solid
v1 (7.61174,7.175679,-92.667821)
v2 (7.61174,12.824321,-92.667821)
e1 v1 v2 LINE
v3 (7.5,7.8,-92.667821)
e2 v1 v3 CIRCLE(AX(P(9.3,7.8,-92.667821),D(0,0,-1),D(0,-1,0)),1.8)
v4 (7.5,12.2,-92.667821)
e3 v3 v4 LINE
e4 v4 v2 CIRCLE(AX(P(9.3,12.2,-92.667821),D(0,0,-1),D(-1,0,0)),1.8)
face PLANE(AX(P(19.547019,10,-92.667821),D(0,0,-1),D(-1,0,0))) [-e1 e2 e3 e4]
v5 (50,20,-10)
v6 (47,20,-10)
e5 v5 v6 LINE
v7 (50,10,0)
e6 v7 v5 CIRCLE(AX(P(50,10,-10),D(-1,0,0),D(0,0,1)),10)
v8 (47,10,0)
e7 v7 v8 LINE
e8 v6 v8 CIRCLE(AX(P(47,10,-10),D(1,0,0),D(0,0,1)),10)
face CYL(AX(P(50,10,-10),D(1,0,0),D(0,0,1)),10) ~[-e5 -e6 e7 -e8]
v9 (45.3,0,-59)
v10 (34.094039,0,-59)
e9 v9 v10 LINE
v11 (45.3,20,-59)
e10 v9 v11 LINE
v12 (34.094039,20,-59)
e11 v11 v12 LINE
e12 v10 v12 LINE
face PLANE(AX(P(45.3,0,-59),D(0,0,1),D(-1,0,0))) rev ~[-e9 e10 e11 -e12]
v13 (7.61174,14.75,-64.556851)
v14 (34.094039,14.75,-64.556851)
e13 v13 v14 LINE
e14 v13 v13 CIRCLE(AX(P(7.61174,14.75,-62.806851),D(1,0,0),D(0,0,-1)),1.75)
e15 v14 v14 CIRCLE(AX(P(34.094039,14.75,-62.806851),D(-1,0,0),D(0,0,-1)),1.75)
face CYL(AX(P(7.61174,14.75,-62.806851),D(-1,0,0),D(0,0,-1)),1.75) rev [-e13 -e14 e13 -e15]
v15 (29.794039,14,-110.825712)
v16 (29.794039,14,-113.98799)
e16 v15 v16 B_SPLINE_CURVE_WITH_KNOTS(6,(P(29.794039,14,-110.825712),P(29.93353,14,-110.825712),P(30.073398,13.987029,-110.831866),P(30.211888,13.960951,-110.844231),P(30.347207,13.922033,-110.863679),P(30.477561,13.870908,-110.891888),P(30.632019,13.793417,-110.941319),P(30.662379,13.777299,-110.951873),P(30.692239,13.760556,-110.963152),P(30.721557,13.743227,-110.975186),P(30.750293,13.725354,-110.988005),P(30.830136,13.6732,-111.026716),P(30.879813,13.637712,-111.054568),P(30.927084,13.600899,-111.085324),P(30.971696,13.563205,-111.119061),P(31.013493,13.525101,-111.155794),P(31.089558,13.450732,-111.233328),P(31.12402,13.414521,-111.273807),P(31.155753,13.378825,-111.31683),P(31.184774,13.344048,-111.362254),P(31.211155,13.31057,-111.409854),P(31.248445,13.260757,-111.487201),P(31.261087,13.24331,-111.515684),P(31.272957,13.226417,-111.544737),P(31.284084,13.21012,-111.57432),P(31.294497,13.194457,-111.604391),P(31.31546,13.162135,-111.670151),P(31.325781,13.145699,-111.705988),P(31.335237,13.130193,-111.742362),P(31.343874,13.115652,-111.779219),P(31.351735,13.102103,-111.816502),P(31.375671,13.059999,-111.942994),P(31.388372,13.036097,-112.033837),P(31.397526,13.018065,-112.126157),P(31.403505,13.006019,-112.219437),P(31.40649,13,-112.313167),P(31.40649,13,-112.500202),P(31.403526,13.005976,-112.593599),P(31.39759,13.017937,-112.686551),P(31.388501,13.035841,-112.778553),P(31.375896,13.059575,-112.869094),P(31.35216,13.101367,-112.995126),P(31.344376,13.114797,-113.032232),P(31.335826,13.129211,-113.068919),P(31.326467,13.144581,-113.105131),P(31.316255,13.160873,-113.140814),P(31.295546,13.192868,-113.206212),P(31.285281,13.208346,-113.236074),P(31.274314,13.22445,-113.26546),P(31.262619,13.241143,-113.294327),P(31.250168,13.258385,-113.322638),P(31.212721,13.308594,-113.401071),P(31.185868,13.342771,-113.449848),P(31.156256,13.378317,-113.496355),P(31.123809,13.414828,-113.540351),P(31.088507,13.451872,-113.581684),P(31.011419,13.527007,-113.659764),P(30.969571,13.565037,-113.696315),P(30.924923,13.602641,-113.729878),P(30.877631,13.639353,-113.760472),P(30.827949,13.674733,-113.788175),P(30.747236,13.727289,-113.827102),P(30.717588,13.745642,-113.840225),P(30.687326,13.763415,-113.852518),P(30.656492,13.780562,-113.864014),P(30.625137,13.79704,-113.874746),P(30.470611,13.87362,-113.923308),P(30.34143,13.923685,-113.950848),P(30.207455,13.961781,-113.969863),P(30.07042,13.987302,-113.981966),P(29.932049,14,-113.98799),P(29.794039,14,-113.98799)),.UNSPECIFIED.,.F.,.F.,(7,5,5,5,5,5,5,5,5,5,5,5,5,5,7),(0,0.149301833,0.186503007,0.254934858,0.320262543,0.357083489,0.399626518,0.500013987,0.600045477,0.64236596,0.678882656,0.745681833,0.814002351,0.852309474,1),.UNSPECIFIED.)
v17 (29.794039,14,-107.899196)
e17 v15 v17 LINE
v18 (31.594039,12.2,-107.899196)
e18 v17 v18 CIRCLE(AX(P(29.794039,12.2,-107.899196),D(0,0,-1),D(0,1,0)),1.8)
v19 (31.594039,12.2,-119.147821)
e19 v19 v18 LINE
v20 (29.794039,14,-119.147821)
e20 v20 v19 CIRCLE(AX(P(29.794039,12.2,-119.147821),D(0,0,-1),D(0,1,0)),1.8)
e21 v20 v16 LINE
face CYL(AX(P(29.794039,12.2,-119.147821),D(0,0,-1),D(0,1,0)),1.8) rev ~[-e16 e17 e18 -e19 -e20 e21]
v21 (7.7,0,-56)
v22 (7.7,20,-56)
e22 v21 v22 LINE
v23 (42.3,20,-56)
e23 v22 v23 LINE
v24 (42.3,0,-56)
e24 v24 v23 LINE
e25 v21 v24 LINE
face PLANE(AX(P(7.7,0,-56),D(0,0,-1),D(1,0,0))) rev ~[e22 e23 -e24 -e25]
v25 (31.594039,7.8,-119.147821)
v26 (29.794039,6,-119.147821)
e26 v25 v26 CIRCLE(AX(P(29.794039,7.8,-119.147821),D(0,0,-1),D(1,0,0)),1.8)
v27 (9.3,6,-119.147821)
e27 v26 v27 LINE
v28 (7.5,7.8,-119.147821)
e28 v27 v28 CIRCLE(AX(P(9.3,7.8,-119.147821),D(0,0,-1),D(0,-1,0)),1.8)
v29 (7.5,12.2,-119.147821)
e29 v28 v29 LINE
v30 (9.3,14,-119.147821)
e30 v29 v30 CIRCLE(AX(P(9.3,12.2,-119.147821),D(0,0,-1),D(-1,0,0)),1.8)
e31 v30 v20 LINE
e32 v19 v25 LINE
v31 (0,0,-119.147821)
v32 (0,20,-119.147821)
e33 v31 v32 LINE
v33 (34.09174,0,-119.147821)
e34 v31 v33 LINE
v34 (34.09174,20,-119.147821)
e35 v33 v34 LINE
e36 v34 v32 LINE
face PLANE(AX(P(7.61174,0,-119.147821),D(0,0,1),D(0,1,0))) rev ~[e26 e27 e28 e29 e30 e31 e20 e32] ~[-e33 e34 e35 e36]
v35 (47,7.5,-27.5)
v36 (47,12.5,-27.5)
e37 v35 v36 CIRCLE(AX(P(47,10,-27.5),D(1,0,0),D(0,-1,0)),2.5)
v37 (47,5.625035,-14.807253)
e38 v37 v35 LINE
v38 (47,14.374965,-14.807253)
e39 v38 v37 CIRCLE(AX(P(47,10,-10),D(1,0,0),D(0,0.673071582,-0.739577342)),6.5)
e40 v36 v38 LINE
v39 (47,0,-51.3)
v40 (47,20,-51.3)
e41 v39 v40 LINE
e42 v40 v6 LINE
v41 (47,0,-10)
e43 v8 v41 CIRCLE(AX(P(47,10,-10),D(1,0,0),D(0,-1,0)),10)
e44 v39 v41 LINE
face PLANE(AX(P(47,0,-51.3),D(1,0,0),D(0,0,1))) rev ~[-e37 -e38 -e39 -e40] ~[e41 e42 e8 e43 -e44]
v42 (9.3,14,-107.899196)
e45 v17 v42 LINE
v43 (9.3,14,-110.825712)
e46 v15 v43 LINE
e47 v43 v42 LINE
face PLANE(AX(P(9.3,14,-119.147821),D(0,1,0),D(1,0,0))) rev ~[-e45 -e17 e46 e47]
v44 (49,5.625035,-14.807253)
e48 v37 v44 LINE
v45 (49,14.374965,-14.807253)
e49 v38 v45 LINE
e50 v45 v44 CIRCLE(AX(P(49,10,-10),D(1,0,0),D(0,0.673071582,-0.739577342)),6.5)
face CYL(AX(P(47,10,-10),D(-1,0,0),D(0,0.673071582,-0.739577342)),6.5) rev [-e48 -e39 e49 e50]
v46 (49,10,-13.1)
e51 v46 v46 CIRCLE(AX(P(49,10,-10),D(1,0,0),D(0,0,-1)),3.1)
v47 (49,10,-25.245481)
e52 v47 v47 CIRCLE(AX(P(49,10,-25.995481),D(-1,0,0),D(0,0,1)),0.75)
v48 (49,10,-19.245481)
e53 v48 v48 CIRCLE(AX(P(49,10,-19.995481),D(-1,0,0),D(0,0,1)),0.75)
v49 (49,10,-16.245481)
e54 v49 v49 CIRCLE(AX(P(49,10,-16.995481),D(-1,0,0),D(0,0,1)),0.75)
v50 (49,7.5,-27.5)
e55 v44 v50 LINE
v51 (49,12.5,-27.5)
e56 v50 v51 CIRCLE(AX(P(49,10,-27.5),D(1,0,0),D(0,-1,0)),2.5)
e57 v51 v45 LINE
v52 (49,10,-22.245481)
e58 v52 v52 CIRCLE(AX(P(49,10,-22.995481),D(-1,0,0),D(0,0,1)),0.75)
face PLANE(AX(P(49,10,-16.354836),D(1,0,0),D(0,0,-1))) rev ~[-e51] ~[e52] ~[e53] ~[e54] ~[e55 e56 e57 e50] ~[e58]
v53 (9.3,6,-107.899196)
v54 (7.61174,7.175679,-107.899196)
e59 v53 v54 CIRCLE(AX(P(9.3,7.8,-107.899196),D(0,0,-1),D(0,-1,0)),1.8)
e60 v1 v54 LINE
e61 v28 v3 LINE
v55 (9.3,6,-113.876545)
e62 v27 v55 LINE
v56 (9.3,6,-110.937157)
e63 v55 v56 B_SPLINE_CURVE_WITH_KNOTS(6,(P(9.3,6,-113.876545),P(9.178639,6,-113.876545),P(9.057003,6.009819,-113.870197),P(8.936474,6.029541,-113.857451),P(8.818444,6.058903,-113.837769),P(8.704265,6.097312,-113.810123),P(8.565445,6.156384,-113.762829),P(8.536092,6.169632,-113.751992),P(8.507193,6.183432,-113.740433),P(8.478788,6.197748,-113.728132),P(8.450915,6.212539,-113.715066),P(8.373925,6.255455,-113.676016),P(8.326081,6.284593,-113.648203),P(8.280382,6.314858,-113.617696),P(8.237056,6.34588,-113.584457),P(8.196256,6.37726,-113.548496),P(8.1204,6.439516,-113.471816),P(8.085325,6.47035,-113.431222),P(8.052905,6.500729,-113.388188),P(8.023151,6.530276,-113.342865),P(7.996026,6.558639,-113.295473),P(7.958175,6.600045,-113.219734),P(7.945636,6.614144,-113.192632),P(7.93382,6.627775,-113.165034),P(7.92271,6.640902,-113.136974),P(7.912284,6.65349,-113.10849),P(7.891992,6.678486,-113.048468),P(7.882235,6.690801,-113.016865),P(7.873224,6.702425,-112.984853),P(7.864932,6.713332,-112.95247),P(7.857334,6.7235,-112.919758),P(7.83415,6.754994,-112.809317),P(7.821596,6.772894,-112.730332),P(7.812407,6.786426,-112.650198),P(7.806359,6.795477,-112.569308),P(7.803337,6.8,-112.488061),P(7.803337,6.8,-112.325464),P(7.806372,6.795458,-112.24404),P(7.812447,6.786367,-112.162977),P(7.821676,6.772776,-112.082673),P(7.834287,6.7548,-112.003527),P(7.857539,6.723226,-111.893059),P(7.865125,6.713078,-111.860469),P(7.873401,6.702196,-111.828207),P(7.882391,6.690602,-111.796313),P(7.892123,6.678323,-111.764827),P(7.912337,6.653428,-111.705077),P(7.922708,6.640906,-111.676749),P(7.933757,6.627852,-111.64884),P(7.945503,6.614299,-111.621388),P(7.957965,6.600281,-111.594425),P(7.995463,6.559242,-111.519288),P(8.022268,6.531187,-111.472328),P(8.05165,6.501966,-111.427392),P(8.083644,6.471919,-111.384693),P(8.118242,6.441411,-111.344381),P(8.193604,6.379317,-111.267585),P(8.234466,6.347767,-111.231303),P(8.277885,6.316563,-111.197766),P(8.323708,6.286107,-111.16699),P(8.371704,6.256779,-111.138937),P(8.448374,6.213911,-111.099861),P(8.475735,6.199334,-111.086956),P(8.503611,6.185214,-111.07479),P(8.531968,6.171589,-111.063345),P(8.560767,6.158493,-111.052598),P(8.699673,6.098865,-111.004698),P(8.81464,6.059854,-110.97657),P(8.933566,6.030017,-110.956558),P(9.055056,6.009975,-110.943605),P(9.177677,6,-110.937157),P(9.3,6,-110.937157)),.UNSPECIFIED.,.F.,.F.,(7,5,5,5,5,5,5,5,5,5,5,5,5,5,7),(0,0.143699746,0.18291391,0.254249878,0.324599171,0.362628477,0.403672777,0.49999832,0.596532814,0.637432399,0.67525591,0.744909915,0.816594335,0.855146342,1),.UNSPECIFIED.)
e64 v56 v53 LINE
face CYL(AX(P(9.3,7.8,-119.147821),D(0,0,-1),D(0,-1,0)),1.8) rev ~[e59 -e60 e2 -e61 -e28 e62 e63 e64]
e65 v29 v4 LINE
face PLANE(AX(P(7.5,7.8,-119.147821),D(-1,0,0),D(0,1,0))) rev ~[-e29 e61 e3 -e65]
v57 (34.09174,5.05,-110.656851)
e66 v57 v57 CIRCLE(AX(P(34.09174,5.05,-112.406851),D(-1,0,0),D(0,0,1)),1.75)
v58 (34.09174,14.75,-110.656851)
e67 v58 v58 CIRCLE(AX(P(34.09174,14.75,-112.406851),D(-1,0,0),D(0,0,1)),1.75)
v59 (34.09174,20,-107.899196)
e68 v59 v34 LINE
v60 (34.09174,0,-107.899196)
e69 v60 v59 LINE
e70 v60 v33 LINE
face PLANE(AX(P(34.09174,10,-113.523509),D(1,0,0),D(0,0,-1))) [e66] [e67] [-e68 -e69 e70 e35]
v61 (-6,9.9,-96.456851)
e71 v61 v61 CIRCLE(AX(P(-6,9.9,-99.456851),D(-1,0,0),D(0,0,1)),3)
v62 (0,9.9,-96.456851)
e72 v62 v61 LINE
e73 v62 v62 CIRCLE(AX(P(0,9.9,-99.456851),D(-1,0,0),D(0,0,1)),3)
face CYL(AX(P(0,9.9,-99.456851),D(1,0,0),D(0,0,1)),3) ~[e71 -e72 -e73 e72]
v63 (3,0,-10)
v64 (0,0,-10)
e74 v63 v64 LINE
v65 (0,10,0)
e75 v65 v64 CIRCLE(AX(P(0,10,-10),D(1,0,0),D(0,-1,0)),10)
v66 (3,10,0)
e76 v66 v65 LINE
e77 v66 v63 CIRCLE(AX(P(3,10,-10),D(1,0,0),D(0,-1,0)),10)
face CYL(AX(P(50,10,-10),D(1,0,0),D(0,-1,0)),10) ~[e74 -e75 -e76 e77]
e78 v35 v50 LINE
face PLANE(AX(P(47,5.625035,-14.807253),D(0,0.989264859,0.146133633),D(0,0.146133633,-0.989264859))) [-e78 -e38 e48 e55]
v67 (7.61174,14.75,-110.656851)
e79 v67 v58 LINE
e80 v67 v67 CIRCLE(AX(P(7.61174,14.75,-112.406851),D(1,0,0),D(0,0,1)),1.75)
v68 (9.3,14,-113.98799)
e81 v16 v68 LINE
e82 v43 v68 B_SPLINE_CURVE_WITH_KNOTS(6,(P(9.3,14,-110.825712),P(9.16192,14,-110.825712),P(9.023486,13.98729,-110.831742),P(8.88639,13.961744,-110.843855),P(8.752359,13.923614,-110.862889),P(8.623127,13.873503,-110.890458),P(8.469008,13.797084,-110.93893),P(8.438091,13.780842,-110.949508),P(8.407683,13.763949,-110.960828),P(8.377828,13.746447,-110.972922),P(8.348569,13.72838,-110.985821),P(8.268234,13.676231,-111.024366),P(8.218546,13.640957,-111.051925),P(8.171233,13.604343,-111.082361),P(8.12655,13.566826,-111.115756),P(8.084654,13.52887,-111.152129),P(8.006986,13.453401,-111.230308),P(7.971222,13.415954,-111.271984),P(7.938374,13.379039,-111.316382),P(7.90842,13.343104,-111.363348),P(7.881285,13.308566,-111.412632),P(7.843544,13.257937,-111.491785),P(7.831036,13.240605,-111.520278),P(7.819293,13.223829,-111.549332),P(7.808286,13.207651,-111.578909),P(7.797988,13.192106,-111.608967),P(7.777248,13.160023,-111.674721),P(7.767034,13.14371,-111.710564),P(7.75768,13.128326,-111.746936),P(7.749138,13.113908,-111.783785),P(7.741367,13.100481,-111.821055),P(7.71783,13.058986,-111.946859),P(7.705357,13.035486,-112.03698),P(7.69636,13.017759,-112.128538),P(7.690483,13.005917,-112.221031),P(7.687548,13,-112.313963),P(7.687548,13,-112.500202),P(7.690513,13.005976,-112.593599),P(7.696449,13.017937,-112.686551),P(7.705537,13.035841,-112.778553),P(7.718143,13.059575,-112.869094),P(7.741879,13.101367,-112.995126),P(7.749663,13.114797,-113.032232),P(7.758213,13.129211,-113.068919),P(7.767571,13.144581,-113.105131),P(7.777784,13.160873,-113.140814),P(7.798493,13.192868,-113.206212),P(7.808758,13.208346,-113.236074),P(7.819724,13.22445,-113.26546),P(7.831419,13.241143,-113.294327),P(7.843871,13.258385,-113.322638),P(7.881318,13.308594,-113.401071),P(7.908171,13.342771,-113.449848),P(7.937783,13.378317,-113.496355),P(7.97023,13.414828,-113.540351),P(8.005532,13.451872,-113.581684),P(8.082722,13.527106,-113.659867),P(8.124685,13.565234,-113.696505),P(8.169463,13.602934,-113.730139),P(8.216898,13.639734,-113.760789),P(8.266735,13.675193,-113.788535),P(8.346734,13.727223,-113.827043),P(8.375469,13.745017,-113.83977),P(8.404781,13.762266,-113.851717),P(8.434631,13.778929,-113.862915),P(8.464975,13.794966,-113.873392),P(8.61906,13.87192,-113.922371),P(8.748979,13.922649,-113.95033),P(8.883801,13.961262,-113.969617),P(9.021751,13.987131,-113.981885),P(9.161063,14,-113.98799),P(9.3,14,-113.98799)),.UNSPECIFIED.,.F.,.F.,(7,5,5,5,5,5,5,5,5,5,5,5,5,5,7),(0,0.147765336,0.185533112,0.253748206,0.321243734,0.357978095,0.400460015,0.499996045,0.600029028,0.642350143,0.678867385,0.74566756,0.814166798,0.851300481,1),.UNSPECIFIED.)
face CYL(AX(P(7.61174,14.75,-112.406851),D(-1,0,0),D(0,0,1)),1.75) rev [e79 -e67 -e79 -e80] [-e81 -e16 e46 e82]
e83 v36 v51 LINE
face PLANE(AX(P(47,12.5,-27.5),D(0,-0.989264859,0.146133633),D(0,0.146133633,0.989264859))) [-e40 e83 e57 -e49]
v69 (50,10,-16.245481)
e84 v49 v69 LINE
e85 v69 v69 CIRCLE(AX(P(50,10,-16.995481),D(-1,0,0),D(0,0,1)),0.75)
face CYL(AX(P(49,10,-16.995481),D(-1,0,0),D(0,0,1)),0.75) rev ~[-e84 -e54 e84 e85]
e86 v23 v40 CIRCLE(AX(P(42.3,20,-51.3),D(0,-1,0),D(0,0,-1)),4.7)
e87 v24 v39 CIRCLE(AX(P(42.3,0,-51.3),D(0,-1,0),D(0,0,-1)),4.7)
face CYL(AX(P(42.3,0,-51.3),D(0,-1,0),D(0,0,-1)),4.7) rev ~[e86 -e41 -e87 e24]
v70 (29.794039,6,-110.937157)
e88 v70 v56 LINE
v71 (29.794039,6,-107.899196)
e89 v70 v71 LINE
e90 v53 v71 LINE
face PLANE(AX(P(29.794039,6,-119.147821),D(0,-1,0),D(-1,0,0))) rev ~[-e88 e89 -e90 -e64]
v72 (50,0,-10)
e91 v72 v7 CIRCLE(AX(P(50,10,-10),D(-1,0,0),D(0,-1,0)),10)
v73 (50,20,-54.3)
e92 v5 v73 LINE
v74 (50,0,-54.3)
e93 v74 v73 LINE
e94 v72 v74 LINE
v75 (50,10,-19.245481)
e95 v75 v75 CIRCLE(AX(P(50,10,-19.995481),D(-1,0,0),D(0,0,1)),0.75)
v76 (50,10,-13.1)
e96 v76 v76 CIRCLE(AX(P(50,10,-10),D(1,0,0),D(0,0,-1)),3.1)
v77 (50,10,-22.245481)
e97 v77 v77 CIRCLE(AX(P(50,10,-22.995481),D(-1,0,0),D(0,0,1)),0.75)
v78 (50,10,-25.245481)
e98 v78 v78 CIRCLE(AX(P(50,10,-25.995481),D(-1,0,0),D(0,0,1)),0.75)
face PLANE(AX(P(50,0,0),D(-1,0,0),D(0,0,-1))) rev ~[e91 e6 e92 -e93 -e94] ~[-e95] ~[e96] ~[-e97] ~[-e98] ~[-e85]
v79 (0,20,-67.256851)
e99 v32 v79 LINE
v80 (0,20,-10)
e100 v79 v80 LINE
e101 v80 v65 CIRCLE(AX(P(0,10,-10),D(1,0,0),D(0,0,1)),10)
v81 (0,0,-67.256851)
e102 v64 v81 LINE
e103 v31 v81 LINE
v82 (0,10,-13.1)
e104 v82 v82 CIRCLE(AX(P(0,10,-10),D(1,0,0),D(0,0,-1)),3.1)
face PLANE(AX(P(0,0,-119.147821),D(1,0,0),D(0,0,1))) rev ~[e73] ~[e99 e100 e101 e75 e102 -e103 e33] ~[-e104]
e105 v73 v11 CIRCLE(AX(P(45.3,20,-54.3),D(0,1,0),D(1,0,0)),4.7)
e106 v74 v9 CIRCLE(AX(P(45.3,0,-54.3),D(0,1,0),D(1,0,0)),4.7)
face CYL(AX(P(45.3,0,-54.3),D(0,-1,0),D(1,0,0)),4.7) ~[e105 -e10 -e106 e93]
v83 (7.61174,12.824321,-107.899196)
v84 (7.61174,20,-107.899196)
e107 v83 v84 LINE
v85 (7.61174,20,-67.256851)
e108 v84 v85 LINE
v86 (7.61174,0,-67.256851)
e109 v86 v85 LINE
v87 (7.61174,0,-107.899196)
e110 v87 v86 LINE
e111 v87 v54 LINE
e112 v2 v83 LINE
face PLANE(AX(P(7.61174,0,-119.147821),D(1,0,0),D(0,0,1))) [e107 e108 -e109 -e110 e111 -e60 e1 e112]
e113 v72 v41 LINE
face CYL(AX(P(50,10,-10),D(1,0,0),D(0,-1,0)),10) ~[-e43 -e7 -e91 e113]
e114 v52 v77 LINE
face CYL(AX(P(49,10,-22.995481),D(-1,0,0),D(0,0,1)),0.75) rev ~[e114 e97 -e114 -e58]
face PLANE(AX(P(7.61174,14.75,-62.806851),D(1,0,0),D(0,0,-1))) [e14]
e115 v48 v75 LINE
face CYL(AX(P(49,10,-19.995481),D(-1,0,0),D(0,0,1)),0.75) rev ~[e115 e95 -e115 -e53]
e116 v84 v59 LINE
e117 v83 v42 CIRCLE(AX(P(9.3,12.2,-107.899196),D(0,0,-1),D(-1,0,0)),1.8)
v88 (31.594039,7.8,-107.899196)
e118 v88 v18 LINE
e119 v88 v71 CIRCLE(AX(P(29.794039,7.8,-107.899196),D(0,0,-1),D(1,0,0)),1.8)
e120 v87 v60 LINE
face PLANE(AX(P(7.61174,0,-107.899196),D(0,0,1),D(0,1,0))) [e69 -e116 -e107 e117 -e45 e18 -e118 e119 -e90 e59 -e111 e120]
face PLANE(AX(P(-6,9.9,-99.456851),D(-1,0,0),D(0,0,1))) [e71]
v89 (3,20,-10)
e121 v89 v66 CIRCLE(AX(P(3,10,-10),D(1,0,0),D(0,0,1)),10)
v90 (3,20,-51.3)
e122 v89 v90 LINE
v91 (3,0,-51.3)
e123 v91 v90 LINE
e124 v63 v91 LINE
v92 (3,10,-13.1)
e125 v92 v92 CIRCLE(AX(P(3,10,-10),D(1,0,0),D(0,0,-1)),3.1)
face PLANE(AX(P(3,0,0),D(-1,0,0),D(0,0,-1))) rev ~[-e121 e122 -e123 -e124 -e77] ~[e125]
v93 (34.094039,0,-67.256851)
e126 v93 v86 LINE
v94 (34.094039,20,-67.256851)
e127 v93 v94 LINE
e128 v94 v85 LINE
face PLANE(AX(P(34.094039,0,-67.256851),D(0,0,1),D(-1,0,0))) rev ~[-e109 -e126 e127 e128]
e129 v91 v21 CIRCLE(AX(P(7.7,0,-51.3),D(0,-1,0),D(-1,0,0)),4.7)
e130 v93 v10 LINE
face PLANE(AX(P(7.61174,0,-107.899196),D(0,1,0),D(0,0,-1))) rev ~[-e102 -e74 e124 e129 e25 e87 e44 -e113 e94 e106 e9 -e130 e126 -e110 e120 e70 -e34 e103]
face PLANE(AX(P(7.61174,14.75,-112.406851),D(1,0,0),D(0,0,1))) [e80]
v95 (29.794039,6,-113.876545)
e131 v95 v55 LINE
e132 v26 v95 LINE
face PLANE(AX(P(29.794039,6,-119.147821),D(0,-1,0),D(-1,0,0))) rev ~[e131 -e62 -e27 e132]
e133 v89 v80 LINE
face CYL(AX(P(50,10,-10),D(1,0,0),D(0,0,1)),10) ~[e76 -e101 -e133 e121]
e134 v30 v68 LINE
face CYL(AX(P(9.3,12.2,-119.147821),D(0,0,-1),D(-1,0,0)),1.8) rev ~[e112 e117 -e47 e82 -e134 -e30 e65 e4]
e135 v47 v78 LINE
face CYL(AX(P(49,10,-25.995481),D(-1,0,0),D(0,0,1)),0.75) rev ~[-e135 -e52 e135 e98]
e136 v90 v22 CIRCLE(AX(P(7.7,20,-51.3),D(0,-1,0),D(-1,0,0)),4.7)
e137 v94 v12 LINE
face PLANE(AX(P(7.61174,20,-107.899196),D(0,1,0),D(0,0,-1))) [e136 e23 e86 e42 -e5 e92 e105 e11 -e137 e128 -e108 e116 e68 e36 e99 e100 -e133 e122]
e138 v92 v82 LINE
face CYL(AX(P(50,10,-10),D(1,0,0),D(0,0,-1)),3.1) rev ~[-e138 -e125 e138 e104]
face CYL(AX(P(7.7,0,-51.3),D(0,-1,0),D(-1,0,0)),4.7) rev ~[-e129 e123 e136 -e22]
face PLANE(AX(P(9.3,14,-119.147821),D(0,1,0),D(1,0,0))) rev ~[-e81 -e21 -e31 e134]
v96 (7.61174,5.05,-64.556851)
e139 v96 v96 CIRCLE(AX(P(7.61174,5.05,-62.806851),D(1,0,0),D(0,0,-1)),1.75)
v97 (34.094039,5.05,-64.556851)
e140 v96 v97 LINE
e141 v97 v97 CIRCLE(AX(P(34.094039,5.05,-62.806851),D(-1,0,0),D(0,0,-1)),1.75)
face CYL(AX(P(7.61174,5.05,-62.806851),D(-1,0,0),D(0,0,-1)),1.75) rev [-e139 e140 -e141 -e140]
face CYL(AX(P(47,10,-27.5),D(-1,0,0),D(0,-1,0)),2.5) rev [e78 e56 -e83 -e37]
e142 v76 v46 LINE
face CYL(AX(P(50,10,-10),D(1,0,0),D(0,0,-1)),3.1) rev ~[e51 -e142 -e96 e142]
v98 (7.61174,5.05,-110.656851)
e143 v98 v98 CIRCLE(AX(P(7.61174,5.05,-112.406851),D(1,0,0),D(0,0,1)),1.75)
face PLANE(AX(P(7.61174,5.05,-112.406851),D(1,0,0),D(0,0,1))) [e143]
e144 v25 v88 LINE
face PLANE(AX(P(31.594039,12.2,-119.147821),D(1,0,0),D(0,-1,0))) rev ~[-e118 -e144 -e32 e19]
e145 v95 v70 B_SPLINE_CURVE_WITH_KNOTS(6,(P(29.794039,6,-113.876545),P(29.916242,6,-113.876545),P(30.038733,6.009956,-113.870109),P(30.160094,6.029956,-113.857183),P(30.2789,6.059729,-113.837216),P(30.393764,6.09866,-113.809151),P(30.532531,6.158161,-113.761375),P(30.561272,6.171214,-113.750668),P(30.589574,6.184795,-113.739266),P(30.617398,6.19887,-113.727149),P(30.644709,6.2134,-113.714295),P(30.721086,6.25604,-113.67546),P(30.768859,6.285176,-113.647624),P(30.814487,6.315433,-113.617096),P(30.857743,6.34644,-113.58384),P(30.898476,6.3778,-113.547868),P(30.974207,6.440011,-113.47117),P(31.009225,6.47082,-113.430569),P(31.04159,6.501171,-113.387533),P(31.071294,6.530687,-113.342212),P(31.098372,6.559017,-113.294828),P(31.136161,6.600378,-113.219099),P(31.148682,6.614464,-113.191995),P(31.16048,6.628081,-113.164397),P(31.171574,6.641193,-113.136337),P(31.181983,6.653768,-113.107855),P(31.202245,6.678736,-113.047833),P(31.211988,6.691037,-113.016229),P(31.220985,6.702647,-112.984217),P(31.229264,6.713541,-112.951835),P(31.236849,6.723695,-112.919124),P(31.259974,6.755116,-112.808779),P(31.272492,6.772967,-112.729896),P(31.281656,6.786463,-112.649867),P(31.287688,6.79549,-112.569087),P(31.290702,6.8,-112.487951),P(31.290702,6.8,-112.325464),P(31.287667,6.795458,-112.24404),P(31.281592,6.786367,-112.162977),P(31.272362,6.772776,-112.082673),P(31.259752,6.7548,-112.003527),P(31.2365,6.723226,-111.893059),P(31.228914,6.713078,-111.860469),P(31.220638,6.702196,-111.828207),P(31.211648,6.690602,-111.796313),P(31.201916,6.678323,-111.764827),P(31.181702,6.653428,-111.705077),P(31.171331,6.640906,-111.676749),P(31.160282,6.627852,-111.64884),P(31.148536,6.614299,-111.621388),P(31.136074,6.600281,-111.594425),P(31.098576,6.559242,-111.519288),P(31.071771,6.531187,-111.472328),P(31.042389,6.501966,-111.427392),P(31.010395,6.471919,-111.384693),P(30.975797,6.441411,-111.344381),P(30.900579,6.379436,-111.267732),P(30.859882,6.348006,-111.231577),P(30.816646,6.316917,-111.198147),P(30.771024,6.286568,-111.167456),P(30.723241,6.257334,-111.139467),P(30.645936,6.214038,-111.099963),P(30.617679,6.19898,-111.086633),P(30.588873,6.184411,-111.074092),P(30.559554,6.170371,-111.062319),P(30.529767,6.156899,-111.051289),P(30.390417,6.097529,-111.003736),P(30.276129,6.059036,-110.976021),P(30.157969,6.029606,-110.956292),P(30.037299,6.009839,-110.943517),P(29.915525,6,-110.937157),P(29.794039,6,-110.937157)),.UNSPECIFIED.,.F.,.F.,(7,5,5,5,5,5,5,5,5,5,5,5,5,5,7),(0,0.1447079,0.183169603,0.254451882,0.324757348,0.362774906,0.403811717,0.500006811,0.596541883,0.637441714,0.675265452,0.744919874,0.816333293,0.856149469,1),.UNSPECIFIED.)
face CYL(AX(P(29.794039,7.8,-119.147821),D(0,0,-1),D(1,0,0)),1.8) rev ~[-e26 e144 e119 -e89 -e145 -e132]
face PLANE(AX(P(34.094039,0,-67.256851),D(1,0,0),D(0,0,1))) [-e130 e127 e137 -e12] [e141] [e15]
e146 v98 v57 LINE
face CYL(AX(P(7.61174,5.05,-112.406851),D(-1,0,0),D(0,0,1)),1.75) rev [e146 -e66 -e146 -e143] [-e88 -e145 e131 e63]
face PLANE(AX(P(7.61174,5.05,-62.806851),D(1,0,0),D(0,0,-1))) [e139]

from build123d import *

# Parameters (mm, degrees)
AUFSATZ_LINEAR_AUSTRAGEN1_DEPTH      = 20
SCHNITT_LINEAR_AUSTRAGEN1_DEPTH      = 53.24
SKIZZE3_R                            = 3.1
SCHNITT_LINEAR_AUSTRAGEN2_DEPTH      = 53.24
SCHNITT_LINEAR_AUSTRAGEN3_DEPTH      = 2
SKIZZE5_R                            = 0.75
SCHNITT_LINEAR_AUSTRAGEN4_DEPTH      = 2
AUFSATZ_LINEAR_AUSTRAGEN2_DEPTH      = 20
SKIZZE7_W                            = 7.611739691
SKIZZE7_H                            = 51.890970688
AUFSATZ_LINEAR_AUSTRAGEN3_DEPTH      = 20
SKIZZE8_W                            = 11.248625368
SKIZZE8_H                            = 20
AUFSATZ_LINEAR_AUSTRAGEN4_DEPTH      = 26.48
SCHNITT_LINEAR_AUSTRAGEN5_DEPTH      = 26.48
SCHNITT_LINEAR_AUSTRAGEN6_DEPTH      = 6
SCHNITT_LINEAR_AUSTRAGEN6_DEPTH_BACK = 26.48
SKIZZE10_R                           = 1.75
SKIZZE11_R                           = 3
AUFSATZ_LINEAR_AUSTRAGEN5_DEPTH      = 6


with BuildPart() as part:
    # Skizze1 → Aufsatz-Linear austragen1 (new body)
    with BuildSketch(Plane(origin=(0, 0, 0), x_dir=(1, 0, 0), z_dir=(0, 1, 0))):
        with BuildLine():
            Line((0, 59), (0, 0))
            Line((0, 0), (3, 0))
            Line((3, 0), (3, 51.3))
            ThreePointArc((3, 51.3), (4.376598128, 54.623401872), (7.7, 56))
            Line((7.7, 56), (42.3, 56))
            ThreePointArc((42.3, 56), (45.623401872, 54.623401872), (47, 51.3))
            Line((47, 51.3), (47, 0))
            Line((47, 0), (50, 0))
            Line((50, 0), (50, 54.3))
            ThreePointArc((50, 54.3), (48.623401872, 57.623401872), (45.3, 59))
            Line((45.3, 59), (0, 59))
        make_face()
    extrude(amount=AUFSATZ_LINEAR_AUSTRAGEN1_DEPTH)

    # Skizze2 → Schnitt-Linear austragen1 (cut)
    with BuildSketch(Plane(origin=(50, 0, 0), x_dir=(0, 0, -1), z_dir=(1, 0, 0))):
        with BuildLine():
            ThreePointArc((0, 10), (2.928932188, 17.071067812), (10, 20))
            Line((10, 20), (0, 20))
            Line((0, 20), (0, 10))
        make_face()
        with BuildLine():
            ThreePointArc((10, 0), (2.928932188, 2.928932188), (0, 10))
            Line((0, 10), (0, 0))
            Line((0, 0), (10, 0))
        make_face()
    extrude(amount=-SCHNITT_LINEAR_AUSTRAGEN1_DEPTH, mode=Mode.SUBTRACT)

    # Skizze3 → Schnitt-Linear austragen2 (cut)
    with BuildSketch(Plane(origin=(50, 0, 0), x_dir=(0, 0, -1), z_dir=(1, 0, 0))):
        with Locations((10, 10)):
            Circle(SKIZZE3_R)
    extrude(amount=-SCHNITT_LINEAR_AUSTRAGEN2_DEPTH, mode=Mode.SUBTRACT)

    # Skizze4 → Schnitt-Linear austragen3 (cut)
    with BuildSketch(Plane.ZY.offset(-47)):
        with BuildLine():
            Line((-27.5, 12.5), (-14.807252725, 14.374965285))
            ThreePointArc((-14.807252725, 14.374965285), (-3.5, 10), (-14.807252725, 5.625034715))
            Line((-14.807252725, 5.625034715), (-27.5, 7.5))
            ThreePointArc((-27.5, 7.5), (-30, 10), (-27.5, 12.5))
        make_face()
    extrude(amount=-SCHNITT_LINEAR_AUSTRAGEN3_DEPTH, mode=Mode.SUBTRACT)

    # Skizze5 → Schnitt-Linear austragen4 (cut)
    with BuildSketch(Plane.ZY.offset(-49)):
        with Locations((-25.995480757, 10)):
            Circle(SKIZZE5_R)
        with Locations((-22.995480757, 10)):
            Circle(SKIZZE5_R)
        with Locations((-19.995480757, 10)):
            Circle(SKIZZE5_R)
        with Locations((-16.995480757, 10)):
            Circle(SKIZZE5_R)
    extrude(amount=-SCHNITT_LINEAR_AUSTRAGEN4_DEPTH, mode=Mode.SUBTRACT)

    # Skizze6 → Aufsatz-Linear austragen2 (add)
    with BuildSketch(Plane.XZ):
        Polygon((34.094038703, -59.256850744), (34.094038703, -67.256850744), (0, -67.256850744), (0, -59.256850744), (0, -57.894447073), (34.094038703, -57.894447073), align=None)
    extrude(amount=-AUFSATZ_LINEAR_AUSTRAGEN2_DEPTH)

    # Skizze7 → Aufsatz-Linear austragen3 (add)
    with BuildSketch(Plane.XZ):
        with Locations((3.805869846, -93.202336088)):
            Rectangle(SKIZZE7_W, SKIZZE7_H)
    extrude(amount=-AUFSATZ_LINEAR_AUSTRAGEN3_DEPTH)

    # Skizze8 → Aufsatz-Linear austragen4 (add)
    with BuildSketch(Plane(origin=(7.611739691, 0, 0), x_dir=(0, 0, -1), z_dir=(1, 0, 0))):
        with Locations((113.523508748, 10)):
            Rectangle(SKIZZE8_W, SKIZZE8_H)
    extrude(amount=AUFSATZ_LINEAR_AUSTRAGEN4_DEPTH)

    # Skizze9 → Schnitt-Linear austragen5 (cut)
    with BuildSketch(Plane(origin=(0, 0, -119.147821432), x_dir=(-1, 0, 0), z_dir=(0, 0, -1))):
        with BuildLine():
            Line((-9.3, 14), (-29.794038703, 14))
            ThreePointArc((-29.794038703, 14), (-31.066830909, 13.472792206), (-31.594038703, 12.2))
            Line((-31.594038703, 12.2), (-31.594038703, 7.8))
            ThreePointArc((-31.594038703, 7.8), (-31.066830909, 6.527207794), (-29.794038703, 6))
            Line((-29.794038703, 6), (-9.3, 6))
            ThreePointArc((-9.3, 6), (-8.027207794, 6.527207794), (-7.5, 7.8))
            Line((-7.5, 7.8), (-7.5, 12.2))
            ThreePointArc((-7.5, 12.2), (-8.027207794, 13.472792206), (-9.3, 14))
        make_face()
    extrude(amount=-SCHNITT_LINEAR_AUSTRAGEN5_DEPTH, mode=Mode.SUBTRACT)

    # Skizze10 → Schnitt-Linear austragen6 (cut, two sides: drawn at the far end of the back side and taken through both)
    with BuildSketch(Plane(origin=(34.091739691, 0, 0), x_dir=(0, 0, -1), z_dir=(1, 0, 0)).offset(-SCHNITT_LINEAR_AUSTRAGEN6_DEPTH_BACK)):
        with Locations((62.806850744, 14.75)):
            Circle(SKIZZE10_R)
        with Locations((62.806850744, 5.05)):
            Circle(SKIZZE10_R)
        with Locations(Location((112.406850744, 5.05, 0), (0, 0, 180))):
            Circle(SKIZZE10_R)
        with Locations(Location((112.406850744, 14.75, 0), (0, 0, 180))):
            Circle(SKIZZE10_R)
    extrude(amount=SCHNITT_LINEAR_AUSTRAGEN6_DEPTH + SCHNITT_LINEAR_AUSTRAGEN6_DEPTH_BACK, mode=Mode.SUBTRACT)

    # Skizze11 → Aufsatz-Linear austragen5 (add)
    with BuildSketch(Plane.ZY):
        with Locations((-99.456850744, 9.9)):
            Circle(SKIZZE11_R)
    extrude(amount=AUFSATZ_LINEAR_AUSTRAGEN5_DEPTH)


solid = part.part
